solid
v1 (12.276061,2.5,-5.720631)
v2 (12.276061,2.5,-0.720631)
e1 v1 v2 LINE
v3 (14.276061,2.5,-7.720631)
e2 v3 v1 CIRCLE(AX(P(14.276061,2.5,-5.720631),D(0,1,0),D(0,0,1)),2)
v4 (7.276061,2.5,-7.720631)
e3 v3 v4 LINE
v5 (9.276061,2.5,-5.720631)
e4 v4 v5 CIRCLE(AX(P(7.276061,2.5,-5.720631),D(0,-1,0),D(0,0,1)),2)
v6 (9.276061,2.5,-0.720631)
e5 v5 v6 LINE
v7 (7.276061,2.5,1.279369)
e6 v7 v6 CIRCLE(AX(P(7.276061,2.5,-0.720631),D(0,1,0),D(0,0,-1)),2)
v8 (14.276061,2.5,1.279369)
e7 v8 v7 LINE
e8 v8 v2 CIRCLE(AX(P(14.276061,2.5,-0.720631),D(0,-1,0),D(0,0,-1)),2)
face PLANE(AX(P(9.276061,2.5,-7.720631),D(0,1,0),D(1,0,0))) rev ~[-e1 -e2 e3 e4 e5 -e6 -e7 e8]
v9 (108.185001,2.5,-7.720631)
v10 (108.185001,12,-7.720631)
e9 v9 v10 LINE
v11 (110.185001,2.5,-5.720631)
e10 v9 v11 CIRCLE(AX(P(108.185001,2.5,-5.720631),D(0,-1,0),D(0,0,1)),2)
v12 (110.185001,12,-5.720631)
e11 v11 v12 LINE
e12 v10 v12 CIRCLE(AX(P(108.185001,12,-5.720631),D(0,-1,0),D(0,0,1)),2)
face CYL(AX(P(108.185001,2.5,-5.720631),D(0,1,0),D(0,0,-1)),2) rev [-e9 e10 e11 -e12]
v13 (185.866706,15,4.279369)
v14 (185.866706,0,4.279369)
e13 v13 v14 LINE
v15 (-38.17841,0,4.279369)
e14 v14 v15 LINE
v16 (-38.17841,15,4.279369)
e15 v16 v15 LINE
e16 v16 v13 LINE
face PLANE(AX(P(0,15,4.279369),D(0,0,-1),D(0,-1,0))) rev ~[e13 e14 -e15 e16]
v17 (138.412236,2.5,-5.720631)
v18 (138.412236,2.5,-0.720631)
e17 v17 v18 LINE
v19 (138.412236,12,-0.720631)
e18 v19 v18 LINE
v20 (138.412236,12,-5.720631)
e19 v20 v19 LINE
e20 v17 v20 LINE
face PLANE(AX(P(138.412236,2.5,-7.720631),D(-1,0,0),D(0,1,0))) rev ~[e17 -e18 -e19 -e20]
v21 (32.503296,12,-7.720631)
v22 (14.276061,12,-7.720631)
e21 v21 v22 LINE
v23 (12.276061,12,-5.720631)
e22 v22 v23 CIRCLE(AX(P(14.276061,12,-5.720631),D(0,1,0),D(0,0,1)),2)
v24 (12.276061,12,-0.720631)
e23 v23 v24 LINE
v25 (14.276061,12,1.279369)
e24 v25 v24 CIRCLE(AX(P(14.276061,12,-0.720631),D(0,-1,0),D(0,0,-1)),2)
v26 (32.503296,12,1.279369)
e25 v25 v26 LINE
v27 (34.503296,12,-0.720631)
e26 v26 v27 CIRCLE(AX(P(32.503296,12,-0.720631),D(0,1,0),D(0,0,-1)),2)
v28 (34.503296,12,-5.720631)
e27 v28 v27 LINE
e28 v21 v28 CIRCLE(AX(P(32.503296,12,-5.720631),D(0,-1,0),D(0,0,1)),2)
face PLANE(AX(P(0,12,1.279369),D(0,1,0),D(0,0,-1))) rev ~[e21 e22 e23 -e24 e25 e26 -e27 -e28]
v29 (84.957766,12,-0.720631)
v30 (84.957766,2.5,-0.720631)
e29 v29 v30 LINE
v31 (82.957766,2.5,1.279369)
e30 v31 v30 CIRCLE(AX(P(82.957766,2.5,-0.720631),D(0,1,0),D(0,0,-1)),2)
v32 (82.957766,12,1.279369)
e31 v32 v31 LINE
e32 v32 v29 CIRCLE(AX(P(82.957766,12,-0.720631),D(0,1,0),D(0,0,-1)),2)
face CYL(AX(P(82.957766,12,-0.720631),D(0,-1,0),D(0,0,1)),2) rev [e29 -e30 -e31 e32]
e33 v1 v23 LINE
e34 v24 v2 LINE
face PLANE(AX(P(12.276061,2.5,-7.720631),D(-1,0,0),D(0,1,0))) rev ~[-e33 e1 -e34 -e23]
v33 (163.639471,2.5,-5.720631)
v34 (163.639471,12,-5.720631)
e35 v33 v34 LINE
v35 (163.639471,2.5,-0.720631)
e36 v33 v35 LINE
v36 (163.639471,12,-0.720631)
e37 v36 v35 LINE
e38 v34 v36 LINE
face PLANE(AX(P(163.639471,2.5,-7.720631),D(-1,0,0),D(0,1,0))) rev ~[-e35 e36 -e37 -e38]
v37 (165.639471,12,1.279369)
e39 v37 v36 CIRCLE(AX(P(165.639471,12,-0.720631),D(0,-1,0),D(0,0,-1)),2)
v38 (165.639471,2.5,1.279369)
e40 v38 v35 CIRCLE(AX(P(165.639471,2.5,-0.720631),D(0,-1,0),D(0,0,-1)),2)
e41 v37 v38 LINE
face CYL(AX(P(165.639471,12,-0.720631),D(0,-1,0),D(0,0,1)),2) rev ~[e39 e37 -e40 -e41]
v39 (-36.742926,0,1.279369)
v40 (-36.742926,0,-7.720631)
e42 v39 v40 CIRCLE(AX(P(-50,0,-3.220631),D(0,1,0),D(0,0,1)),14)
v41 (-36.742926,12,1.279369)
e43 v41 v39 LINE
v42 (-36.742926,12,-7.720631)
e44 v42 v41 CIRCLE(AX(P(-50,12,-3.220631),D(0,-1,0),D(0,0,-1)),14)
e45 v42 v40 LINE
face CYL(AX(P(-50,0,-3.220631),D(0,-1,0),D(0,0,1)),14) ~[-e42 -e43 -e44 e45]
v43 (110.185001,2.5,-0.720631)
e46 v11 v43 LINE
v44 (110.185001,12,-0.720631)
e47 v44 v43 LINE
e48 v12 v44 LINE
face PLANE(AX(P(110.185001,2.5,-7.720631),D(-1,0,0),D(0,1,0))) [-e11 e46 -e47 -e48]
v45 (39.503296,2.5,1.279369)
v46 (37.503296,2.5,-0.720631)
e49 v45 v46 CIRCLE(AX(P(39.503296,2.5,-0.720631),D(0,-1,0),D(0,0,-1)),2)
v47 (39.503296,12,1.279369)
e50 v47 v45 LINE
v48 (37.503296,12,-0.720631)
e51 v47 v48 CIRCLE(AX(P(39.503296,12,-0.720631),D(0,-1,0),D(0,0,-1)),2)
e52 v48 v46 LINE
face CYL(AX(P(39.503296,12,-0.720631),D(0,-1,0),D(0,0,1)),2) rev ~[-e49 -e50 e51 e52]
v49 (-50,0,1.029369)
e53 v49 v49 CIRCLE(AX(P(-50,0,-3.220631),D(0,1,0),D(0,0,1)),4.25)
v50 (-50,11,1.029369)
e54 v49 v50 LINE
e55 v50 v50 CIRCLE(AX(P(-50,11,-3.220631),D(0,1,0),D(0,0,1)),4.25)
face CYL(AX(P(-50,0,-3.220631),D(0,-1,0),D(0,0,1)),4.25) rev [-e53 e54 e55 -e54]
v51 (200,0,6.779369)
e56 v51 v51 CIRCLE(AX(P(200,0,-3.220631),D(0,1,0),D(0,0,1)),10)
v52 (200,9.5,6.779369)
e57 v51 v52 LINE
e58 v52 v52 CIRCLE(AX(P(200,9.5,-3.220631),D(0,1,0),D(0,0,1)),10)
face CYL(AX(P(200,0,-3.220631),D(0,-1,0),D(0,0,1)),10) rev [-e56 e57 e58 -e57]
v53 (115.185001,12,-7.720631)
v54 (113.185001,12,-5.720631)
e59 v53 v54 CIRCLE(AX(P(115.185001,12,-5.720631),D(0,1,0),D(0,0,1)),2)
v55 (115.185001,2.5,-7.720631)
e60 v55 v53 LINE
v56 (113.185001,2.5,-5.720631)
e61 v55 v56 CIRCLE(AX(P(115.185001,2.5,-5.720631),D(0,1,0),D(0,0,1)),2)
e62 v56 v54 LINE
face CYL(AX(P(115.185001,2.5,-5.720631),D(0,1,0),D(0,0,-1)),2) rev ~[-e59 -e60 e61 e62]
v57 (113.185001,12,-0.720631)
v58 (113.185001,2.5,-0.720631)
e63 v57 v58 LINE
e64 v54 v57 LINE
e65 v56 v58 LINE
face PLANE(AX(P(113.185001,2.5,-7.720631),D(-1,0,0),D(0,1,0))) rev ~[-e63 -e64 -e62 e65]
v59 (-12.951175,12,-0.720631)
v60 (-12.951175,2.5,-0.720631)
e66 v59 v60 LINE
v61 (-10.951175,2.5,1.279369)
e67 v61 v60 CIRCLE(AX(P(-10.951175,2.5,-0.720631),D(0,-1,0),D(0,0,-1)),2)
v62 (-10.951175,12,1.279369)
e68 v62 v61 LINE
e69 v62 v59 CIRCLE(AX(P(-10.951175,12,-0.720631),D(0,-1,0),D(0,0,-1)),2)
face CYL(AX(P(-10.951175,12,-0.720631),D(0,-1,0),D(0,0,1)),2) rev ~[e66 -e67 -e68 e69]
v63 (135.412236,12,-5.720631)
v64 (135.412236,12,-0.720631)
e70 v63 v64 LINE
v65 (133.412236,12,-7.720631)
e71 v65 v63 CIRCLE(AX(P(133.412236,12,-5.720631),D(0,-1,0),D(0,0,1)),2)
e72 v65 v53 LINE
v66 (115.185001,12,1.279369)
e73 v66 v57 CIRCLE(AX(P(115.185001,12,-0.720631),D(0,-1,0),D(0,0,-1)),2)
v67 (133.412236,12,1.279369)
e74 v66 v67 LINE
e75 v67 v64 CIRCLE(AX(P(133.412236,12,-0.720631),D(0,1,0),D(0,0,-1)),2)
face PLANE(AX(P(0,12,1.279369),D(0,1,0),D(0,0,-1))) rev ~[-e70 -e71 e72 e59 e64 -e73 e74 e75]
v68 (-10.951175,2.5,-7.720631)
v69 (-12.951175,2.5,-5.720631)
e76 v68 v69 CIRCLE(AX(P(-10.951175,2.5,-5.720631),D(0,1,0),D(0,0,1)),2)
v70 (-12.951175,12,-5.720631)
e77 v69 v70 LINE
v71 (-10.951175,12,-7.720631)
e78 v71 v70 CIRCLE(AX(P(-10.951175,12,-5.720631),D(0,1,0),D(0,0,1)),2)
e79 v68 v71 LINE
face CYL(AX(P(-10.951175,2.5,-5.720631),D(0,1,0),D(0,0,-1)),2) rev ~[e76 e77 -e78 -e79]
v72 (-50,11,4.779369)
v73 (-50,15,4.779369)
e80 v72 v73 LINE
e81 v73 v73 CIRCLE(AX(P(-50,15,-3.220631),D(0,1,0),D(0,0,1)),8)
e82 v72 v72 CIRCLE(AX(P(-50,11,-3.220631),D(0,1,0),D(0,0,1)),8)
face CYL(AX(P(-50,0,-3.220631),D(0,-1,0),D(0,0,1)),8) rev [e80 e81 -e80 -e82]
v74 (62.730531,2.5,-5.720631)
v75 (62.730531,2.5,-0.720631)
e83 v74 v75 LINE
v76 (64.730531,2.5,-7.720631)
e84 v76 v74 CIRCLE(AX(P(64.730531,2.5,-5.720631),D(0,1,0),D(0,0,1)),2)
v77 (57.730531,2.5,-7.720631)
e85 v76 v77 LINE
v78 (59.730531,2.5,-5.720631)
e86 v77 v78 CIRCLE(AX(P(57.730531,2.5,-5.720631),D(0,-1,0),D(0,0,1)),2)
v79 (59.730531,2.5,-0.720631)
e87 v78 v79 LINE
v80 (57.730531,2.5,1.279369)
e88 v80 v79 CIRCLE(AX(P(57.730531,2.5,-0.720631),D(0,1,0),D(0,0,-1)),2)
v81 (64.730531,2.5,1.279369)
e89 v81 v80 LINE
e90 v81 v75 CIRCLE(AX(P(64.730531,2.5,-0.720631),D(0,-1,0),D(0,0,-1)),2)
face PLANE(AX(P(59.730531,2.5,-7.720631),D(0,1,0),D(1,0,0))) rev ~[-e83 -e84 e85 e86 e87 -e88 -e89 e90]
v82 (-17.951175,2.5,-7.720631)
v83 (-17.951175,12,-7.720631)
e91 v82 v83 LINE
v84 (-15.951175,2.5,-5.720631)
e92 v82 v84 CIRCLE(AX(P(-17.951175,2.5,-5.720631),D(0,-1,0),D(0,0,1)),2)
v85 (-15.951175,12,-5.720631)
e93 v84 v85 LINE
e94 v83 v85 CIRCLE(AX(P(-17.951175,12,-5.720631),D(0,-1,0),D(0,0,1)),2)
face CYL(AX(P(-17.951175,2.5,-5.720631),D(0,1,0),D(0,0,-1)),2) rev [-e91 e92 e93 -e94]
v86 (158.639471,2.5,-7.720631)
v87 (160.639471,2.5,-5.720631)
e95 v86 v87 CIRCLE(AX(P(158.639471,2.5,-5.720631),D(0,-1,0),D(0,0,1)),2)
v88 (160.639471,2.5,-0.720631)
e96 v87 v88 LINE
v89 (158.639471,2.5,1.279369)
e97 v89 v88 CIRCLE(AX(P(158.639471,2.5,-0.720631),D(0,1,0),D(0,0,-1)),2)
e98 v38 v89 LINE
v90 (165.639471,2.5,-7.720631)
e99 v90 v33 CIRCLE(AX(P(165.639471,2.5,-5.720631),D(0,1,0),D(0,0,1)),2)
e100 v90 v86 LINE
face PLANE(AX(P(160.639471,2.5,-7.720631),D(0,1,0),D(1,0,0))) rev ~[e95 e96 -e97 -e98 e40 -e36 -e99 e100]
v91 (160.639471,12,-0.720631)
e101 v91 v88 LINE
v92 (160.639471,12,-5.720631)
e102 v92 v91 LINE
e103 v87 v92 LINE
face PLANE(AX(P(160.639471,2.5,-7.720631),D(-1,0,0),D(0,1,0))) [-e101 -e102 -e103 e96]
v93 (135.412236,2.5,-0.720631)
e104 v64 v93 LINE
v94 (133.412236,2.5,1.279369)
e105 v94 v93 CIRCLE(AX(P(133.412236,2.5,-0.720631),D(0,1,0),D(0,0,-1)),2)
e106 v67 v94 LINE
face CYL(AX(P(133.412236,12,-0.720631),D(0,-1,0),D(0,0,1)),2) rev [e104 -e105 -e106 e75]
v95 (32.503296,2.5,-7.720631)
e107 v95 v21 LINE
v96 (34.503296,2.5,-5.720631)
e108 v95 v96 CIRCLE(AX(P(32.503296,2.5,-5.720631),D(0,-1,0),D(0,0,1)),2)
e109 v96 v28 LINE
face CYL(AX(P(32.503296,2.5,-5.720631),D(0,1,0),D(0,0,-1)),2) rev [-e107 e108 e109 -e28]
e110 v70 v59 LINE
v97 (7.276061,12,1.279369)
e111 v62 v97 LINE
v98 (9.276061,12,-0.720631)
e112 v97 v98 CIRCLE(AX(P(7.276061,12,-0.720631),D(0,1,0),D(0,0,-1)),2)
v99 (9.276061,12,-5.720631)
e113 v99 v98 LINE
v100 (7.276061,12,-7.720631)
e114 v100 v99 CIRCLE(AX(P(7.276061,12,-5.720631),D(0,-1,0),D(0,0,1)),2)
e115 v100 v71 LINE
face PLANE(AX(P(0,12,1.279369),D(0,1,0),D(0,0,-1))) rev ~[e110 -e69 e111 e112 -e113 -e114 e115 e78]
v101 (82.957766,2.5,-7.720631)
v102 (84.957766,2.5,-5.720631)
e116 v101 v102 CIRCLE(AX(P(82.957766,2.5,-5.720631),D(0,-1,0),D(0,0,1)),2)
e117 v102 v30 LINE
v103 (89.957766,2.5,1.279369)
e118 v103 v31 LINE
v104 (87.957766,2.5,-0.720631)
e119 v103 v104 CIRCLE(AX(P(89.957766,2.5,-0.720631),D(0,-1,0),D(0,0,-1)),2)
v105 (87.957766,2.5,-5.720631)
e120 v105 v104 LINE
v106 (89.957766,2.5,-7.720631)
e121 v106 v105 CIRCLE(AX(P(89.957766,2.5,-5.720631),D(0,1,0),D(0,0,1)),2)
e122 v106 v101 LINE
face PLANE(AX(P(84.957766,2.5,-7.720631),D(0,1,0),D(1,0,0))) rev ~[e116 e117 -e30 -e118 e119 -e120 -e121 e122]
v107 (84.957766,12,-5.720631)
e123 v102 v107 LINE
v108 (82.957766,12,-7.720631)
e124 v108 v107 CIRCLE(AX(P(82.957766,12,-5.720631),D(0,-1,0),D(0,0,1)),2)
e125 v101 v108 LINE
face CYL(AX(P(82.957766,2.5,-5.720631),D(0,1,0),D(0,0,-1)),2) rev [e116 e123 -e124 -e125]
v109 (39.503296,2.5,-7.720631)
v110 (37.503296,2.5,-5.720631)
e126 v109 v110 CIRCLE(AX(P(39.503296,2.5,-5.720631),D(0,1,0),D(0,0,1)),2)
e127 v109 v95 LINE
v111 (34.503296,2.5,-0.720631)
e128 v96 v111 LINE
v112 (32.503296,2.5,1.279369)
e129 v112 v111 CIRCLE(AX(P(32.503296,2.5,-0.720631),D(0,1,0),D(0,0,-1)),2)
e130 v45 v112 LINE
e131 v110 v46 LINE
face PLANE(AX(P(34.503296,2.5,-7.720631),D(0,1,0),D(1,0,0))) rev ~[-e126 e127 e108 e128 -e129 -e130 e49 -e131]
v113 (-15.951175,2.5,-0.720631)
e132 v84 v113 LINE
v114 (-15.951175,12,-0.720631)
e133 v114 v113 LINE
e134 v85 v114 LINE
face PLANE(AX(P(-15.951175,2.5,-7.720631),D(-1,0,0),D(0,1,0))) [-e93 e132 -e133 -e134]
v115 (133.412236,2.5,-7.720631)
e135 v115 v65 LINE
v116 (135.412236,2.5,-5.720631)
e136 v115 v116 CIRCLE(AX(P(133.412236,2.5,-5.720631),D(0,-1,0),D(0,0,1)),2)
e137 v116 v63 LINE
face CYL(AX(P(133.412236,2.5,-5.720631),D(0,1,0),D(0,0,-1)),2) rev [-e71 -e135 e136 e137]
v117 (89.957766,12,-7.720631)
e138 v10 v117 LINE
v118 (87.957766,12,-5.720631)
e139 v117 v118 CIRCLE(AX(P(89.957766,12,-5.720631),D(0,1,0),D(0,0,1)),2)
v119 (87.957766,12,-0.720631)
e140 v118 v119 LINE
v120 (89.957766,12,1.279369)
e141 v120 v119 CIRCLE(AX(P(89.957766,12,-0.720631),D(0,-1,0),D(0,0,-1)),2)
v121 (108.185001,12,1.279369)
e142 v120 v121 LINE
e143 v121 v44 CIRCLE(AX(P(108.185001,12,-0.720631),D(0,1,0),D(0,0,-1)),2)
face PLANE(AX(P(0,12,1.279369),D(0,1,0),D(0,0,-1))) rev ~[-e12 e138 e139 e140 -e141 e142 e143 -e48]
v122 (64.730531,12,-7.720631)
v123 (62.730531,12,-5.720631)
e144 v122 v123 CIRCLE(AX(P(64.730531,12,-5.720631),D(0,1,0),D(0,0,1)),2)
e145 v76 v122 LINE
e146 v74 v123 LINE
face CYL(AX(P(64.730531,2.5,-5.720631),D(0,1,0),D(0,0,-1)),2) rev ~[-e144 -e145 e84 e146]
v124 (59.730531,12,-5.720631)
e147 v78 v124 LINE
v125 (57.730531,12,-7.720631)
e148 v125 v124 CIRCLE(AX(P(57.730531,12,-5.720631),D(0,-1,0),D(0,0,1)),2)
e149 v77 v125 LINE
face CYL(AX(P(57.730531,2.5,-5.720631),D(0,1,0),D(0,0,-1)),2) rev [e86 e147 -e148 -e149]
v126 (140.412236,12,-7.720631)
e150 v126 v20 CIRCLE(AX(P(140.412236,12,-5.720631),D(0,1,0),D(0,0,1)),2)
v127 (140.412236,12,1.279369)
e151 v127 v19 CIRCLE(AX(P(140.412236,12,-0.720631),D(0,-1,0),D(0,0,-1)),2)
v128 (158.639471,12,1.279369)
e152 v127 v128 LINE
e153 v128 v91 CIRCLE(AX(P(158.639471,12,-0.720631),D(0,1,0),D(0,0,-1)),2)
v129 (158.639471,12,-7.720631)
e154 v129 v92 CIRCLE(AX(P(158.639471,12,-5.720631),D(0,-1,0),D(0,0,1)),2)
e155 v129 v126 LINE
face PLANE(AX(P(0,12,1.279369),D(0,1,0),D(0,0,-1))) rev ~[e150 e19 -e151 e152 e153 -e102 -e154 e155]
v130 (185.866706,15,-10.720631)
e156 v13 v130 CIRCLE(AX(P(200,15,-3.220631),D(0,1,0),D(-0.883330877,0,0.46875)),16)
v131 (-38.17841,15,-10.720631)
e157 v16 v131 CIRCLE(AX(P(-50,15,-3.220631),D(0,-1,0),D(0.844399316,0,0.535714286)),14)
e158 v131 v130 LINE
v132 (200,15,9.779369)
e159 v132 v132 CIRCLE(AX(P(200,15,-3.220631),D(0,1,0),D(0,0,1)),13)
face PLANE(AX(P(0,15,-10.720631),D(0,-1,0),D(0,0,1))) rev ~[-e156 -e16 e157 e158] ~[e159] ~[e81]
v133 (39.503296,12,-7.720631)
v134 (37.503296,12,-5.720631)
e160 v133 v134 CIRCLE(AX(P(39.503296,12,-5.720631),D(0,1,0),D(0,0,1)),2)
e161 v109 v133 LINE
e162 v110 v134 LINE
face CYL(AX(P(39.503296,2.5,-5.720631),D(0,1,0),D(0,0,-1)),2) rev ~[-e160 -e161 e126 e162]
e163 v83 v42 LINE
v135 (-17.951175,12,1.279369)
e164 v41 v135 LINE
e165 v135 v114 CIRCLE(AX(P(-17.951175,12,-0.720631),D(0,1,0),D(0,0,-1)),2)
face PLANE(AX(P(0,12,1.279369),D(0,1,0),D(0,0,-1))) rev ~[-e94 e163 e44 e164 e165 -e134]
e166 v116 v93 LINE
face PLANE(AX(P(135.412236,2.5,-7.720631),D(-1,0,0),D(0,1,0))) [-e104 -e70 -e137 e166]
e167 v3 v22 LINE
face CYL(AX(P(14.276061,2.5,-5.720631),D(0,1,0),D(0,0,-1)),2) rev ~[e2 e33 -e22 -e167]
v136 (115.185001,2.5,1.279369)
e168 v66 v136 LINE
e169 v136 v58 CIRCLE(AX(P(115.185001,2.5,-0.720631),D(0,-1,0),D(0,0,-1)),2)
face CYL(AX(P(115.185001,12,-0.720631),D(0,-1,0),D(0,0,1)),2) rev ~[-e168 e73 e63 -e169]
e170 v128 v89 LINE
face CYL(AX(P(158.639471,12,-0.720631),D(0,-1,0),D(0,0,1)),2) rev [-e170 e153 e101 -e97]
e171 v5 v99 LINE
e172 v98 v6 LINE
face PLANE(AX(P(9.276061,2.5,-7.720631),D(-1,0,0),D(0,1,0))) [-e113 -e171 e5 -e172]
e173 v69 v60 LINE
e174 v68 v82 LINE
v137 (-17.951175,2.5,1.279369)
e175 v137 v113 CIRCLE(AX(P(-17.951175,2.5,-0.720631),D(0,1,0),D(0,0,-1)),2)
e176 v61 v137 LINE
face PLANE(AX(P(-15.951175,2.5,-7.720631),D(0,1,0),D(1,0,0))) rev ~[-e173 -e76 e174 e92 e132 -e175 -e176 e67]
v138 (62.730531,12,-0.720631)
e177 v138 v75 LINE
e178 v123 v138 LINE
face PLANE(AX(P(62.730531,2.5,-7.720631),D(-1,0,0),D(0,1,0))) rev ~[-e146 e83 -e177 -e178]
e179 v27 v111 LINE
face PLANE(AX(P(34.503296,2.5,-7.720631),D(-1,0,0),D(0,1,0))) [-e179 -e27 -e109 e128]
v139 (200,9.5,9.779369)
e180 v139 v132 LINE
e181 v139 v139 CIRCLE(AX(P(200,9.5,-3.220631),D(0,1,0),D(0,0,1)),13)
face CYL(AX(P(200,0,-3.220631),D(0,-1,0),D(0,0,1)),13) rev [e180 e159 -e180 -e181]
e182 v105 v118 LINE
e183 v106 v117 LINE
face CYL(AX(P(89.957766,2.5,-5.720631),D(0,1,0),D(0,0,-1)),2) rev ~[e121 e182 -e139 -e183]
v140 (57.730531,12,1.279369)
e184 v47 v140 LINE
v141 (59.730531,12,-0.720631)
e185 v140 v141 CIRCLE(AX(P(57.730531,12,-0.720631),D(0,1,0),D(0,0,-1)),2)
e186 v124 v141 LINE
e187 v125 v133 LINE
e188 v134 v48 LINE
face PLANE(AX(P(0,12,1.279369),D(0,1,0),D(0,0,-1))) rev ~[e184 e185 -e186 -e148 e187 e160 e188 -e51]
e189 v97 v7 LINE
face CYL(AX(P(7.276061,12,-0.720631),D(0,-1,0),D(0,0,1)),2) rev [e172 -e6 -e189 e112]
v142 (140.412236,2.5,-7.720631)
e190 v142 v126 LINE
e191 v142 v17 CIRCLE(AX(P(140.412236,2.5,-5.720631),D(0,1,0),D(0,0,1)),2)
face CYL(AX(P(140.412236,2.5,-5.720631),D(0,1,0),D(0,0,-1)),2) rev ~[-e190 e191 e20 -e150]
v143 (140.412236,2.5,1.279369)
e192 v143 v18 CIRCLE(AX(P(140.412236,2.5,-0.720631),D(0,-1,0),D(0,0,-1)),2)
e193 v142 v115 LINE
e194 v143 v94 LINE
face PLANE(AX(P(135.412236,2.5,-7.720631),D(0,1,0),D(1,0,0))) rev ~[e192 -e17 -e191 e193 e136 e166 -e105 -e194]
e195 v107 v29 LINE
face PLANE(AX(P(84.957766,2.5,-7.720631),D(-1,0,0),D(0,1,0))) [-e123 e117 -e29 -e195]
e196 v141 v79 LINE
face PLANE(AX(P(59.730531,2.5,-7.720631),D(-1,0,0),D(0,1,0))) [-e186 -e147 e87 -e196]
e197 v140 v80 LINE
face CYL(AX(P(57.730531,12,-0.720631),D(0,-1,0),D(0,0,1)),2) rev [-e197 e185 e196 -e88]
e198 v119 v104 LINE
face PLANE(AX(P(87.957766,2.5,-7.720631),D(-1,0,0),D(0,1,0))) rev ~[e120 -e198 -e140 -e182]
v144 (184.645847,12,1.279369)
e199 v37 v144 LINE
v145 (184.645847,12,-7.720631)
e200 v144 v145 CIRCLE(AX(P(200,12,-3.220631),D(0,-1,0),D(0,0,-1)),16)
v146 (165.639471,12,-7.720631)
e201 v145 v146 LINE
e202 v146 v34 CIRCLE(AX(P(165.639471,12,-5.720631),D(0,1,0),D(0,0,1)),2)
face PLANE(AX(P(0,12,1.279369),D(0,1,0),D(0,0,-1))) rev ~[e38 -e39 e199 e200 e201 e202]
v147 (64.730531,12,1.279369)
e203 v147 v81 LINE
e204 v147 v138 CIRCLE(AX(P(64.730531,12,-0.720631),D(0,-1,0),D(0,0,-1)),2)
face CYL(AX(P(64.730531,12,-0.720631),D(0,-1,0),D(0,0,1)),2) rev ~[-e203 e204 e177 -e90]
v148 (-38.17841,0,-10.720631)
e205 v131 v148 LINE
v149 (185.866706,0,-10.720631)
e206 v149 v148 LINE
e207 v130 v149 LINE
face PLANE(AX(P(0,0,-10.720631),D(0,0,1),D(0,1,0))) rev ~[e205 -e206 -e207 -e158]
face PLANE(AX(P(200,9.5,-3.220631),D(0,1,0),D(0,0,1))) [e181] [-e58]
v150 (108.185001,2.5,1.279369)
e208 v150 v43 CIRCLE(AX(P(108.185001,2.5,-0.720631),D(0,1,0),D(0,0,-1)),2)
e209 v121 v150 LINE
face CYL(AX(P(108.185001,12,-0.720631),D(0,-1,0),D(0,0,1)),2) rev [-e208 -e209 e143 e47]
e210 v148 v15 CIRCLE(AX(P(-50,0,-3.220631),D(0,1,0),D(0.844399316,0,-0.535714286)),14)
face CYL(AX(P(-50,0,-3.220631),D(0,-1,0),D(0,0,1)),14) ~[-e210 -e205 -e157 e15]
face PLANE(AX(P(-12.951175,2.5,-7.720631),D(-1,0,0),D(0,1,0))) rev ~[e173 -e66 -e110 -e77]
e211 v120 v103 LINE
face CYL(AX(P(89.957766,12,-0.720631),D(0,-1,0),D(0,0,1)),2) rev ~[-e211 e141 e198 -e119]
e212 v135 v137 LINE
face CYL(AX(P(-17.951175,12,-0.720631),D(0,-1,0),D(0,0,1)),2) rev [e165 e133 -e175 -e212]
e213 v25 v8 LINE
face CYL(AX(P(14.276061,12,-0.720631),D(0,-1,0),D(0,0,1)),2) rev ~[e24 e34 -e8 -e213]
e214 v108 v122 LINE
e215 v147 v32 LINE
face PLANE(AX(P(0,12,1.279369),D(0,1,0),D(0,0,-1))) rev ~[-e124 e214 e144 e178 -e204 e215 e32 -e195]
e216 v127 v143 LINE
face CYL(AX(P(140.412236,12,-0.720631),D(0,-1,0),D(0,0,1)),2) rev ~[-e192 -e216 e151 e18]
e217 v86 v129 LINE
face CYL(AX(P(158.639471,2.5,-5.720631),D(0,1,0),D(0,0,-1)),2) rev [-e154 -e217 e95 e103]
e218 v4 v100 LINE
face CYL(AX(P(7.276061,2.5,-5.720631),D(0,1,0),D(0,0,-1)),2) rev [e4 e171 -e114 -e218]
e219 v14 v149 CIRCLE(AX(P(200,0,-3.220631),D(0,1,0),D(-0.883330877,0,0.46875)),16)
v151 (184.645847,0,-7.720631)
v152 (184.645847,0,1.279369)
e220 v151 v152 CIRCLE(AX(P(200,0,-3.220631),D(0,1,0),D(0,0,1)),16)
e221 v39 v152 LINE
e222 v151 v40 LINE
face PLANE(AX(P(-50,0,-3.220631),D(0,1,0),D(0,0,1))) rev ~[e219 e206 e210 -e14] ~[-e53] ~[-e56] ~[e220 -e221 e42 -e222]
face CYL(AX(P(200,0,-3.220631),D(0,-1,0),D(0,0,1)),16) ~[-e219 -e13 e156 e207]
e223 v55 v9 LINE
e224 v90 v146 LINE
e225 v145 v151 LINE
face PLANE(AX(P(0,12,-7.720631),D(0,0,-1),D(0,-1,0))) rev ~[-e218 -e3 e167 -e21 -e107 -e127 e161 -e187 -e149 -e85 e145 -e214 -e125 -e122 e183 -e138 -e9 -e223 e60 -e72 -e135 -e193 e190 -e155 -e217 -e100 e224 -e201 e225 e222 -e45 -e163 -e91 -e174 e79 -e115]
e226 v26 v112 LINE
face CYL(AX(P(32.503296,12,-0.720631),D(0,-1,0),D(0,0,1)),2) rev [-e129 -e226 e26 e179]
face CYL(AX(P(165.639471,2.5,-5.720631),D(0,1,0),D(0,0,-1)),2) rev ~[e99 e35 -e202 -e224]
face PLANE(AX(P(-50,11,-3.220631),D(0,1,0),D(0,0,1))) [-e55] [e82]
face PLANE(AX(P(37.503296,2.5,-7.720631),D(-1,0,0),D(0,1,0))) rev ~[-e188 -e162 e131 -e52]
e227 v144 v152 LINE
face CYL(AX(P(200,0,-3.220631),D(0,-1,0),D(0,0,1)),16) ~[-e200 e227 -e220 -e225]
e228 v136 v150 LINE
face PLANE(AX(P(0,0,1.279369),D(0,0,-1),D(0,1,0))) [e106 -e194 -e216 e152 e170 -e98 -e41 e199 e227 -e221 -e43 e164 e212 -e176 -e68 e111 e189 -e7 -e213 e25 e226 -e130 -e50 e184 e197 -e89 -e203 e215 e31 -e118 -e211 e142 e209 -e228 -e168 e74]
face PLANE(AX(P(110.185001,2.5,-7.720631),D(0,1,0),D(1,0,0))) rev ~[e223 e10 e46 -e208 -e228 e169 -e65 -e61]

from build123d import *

# Parameters (mm, degrees)
SKETCH2_R                             = 14
SKETCH2_R_2                           = 8
BOSS_EXTRUDE7_DEPTH                   = 15
SKETCH2_9_R                           = 16
SKETCH2_9_R_2                         = 13
BOSS_EXTRUDE8_DEPTH                   = 15
SKETCH2_11_R                          = 13
SKETCH2_11_R_2                        = 10
BOSS_EXTRUDE9_DEPTH                   = 9.5
BOSS_EXTRUDE11_REACH                  = 219.372
BOSS_EXTRUDE11_END_RADIUS             = 14
BOSS_EXTRUDE11_DIRECTION_2_REACH      = 219.372
BOSS_EXTRUDE11_DIRECTION_2_END_RADIUS = 16
BOSS_EXTRUDE12_REACH                  = 219.489
SKETCH15_W                            = 3
SKETCH15_H                            = 9.5
FILLET1_R                             = 2
SKETCH2_13_R                          = 8
SKETCH2_13_R_2                        = 4.25
BOSS_EXTRUDE13_DEPTH                  = 11


with BuildPart() as part:
    # Sketch2 → Boss-Extrude7 (new body)
    with BuildSketch(Plane(origin=(0, 0, 0), x_dir=(1, 0, 0), z_dir=(0, 1, 0))):
        with Locations(Location((-50, 3.220631283, 0), (0, 0, 270))):
            Circle(SKETCH2_R)
        with Locations(Location((-50, 3.220631283, 0), (0, 0, 270))):
            Circle(SKETCH2_R_2, mode=Mode.SUBTRACT)
    extrude(amount=BOSS_EXTRUDE7_DEPTH)


with BuildPart() as body_2:
    # Sketch2<9> → Boss-Extrude8 (new body)
    with BuildSketch(Plane(origin=(0, 0, 0), x_dir=(1, 0, 0), z_dir=(0, 1, 0))):
        with Locations(Location((200, 3.220631283, 0), (0, 0, 270))):
            Circle(SKETCH2_9_R)
        with Locations(Location((200, 3.220631283, 0), (0, 0, 270))):
            Circle(SKETCH2_9_R_2, mode=Mode.SUBTRACT)
    extrude(amount=BOSS_EXTRUDE8_DEPTH)

    # Sketch2<11> → Boss-Extrude9 (add)
    with BuildSketch(Plane(origin=(0, 0, 0), x_dir=(1, 0, 0), z_dir=(0, 1, 0))):
        with Locations(Location((200, 3.220631283, 0), (0, 0, 270))):
            Circle(SKETCH2_11_R)
        with Locations(Location((200, 3.220631283, 0), (0, 0, 270))):
            Circle(SKETCH2_11_R_2, mode=Mode.SUBTRACT)
    extrude(amount=BOSS_EXTRUDE9_DEPTH)


    add(part.part)  # Boss-Extrude11 merges part
    # Boss-Extrude11: up to this cylinder (the profile starts outside it)
    boss_extrude11_end = Plane(origin=(-50, 0.212132, -3.220631283), z_dir=(0, -1, 0)) * Cylinder(BOSS_EXTRUDE11_END_RADIUS, 467.744, mode=Mode.PRIVATE)
    # Sketch3 → Boss-Extrude11 (add, up to the surface)
    with BuildSketch(Plane(origin=(0, 0, 0), x_dir=(0, 0, -1), z_dir=(1, 0, 0)), mode=Mode.PRIVATE) as boss_extrude11_sk1:
        Polygon((10.720631283, 0), (10.720631283, 15), (-4.279368717, 15), (-4.279368717, 0), (-1.279368717, 0), (-1.279368717, 12), (7.720631283, 12), (7.720631283, 0), align=None)
    boss_extrude11_tool1 = extrude(boss_extrude11_sk1.sketch, amount=-BOSS_EXTRUDE11_REACH, mode=Mode.PRIVATE) - boss_extrude11_end
    add(boss_extrude11_tool1.solids().sort_by_distance((0, 0.212132, -9.220631))[0])

    # Boss-Extrude11 direction 2: up to this cylinder (the profile starts outside it)
    boss_extrude11_direction_2_end = Plane(origin=(200, 0.212132, -3.220631283), z_dir=(0, -1, 0)) * Cylinder(BOSS_EXTRUDE11_DIRECTION_2_END_RADIUS, 471.744, mode=Mode.PRIVATE)
    # Sketch3 → Boss-Extrude11 direction 2 (add, up to the surface)
    with BuildSketch(Plane(origin=(0, 0, 0), x_dir=(0, 0, -1), z_dir=(1, 0, 0)), mode=Mode.PRIVATE) as boss_extrude11_direction_2_sk1:
        Polygon((10.720631283, 0), (10.720631283, 15), (-4.279368717, 15), (-4.279368717, 0), (-1.279368717, 0), (-1.279368717, 12), (7.720631283, 12), (7.720631283, 0), align=None)
    boss_extrude11_direction_2_tool1 = extrude(boss_extrude11_direction_2_sk1.sketch, amount=BOSS_EXTRUDE11_DIRECTION_2_REACH, mode=Mode.PRIVATE) - boss_extrude11_direction_2_end
    add(boss_extrude11_direction_2_tool1.solids().sort_by_distance((0, 0.212132, -9.220631))[0])

    # Sketch15 → Boss-Extrude12 (add, up to next)
    with BuildSketch(Plane.XY.offset(-7.720631283), mode=Mode.PRIVATE) as boss_extrude12_sk1:
        with Locations((-14.45117452, 7.25)):
            Rectangle(SKETCH15_W, SKETCH15_H)
    boss_extrude12_tool1 = extrude(boss_extrude12_sk1.sketch, amount=BOSS_EXTRUDE12_REACH, mode=Mode.PRIVATE) - body_2.part
    # Sketch15 → Boss-Extrude12 (add, up to next)
    with BuildSketch(Plane.XY.offset(-7.720631283), mode=Mode.PRIVATE) as boss_extrude12_sk2:
        with Locations((86.457765729, 7.25)):
            Rectangle(SKETCH15_W, SKETCH15_H)
    boss_extrude12_tool2 = extrude(boss_extrude12_sk2.sketch, amount=BOSS_EXTRUDE12_REACH, mode=Mode.PRIVATE) - body_2.part
    # Sketch15 → Boss-Extrude12 (add, up to next)
    with BuildSketch(Plane.XY.offset(-7.720631283), mode=Mode.PRIVATE) as boss_extrude12_sk3:
        with Locations((10.776060542, 7.25)):
            Rectangle(SKETCH15_W, SKETCH15_H)
    boss_extrude12_tool3 = extrude(boss_extrude12_sk3.sketch, amount=BOSS_EXTRUDE12_REACH, mode=Mode.PRIVATE) - body_2.part
    # Sketch15 → Boss-Extrude12 (add, up to next)
    with BuildSketch(Plane.XY.offset(-7.720631283), mode=Mode.PRIVATE) as boss_extrude12_sk4:
        with Locations((36.003295604, 7.25)):
            Rectangle(SKETCH15_W, SKETCH15_H)
    boss_extrude12_tool4 = extrude(boss_extrude12_sk4.sketch, amount=BOSS_EXTRUDE12_REACH, mode=Mode.PRIVATE) - body_2.part
    # Sketch15 → Boss-Extrude12 (add, up to next)
    with BuildSketch(Plane.XY.offset(-7.720631283), mode=Mode.PRIVATE) as boss_extrude12_sk5:
        with Locations((61.230530666, 7.25)):
            Rectangle(SKETCH15_W, SKETCH15_H)
    boss_extrude12_tool5 = extrude(boss_extrude12_sk5.sketch, amount=BOSS_EXTRUDE12_REACH, mode=Mode.PRIVATE) - body_2.part
    # Sketch15 → Boss-Extrude12 (add, up to next)
    with BuildSketch(Plane.XY.offset(-7.720631283), mode=Mode.PRIVATE) as boss_extrude12_sk6:
        with Locations((111.685000791, 7.25)):
            Rectangle(SKETCH15_W, SKETCH15_H)
    boss_extrude12_tool6 = extrude(boss_extrude12_sk6.sketch, amount=BOSS_EXTRUDE12_REACH, mode=Mode.PRIVATE) - body_2.part
    # Sketch15 → Boss-Extrude12 (add, up to next)
    with BuildSketch(Plane.XY.offset(-7.720631283), mode=Mode.PRIVATE) as boss_extrude12_sk7:
        with Locations((136.912235853, 7.25)):
            Rectangle(SKETCH15_W, SKETCH15_H)
    boss_extrude12_tool7 = extrude(boss_extrude12_sk7.sketch, amount=BOSS_EXTRUDE12_REACH, mode=Mode.PRIVATE) - body_2.part
    # Sketch15 → Boss-Extrude12 (add, up to next)
    with BuildSketch(Plane.XY.offset(-7.720631283), mode=Mode.PRIVATE) as boss_extrude12_sk8:
        with Locations((162.139470915, 7.25)):
            Rectangle(SKETCH15_W, SKETCH15_H)
    boss_extrude12_tool8 = extrude(boss_extrude12_sk8.sketch, amount=BOSS_EXTRUDE12_REACH, mode=Mode.PRIVATE) - body_2.part
    add(boss_extrude12_tool1.solids().sort_by_distance((-14.451175, 7.25, -7.720631))[0])
    add(boss_extrude12_tool2.solids().sort_by_distance((86.457766, 7.25, -7.720631))[0])
    add(boss_extrude12_tool3.solids().sort_by_distance((10.776061, 7.25, -7.720631))[0])
    add(boss_extrude12_tool4.solids().sort_by_distance((36.003296, 7.25, -7.720631))[0])
    add(boss_extrude12_tool5.solids().sort_by_distance((61.230531, 7.25, -7.720631))[0])
    add(boss_extrude12_tool6.solids().sort_by_distance((111.685001, 7.25, -7.720631))[0])
    add(boss_extrude12_tool7.solids().sort_by_distance((136.912236, 7.25, -7.720631))[0])
    add(boss_extrude12_tool8.solids().sort_by_distance((162.139471, 7.25, -7.720631))[0])

    # Fillet1
    fillet1_edges = [body_2.edges().sort_by_distance(p)[0] for p in [
        (59.730530666, 7.25, 1.279368717),
        (62.730530666, 7.25, 1.279368717),
        (62.730530666, 7.25, -7.720631283),
        (59.730530666, 7.25, -7.720631283),
        (110.185000791, 7.25, 1.279368717),
        (113.185000791, 7.25, 1.279368717),
        (113.185000791, 7.25, -7.720631283),
        (110.185000791, 7.25, -7.720631283),
        (135.412235853, 7.25, 1.279368717),
        (138.412235853, 7.25, 1.279368717),
        (138.412235853, 7.25, -7.720631283),
        (135.412235853, 7.25, -7.720631283),
        (160.639470915, 7.25, 1.279368717),
        (163.639470915, 7.25, 1.279368717),
        (163.639470915, 7.25, -7.720631283),
        (160.639470915, 7.25, -7.720631283),
        (-15.95117452, 7.25, 1.279368717),
        (-12.95117452, 7.25, 1.279368717),
        (-12.95117452, 7.25, -7.720631283),
        (-15.95117452, 7.25, -7.720631283),
        (84.957765729, 7.25, 1.279368717),
        (87.957765729, 7.25, 1.279368717),
        (87.957765729, 7.25, -7.720631283),
        (84.957765729, 7.25, -7.720631283),
        (12.276060542, 7.25, 1.279368717),
        (9.276060542, 7.25, 1.279368717),
        (12.276060542, 7.25, -7.720631283),
        (9.276060542, 7.25, -7.720631283),
        (34.503295604, 7.25, 1.279368717),
        (37.503295604, 7.25, 1.279368717),
        (37.503295604, 7.25, -7.720631283),
        (34.503295604, 7.25, -7.720631283),
    ]]
    fillet(fillet1_edges, radius=FILLET1_R)

    # Sketch2<13> → Boss-Extrude13 (add)
    with BuildSketch(Plane(origin=(0, 0, 0), x_dir=(1, 0, 0), z_dir=(0, 1, 0))):
        with Locations(Location((-50, 3.220631283, 0), (0, 0, 270))):
            Circle(SKETCH2_13_R)
        with Locations(Location((-50, 3.220631283, 0), (0, 0, 270))):
            Circle(SKETCH2_13_R_2, mode=Mode.SUBTRACT)
    extrude(amount=BOSS_EXTRUDE13_DEPTH)


solid = body_2.part
